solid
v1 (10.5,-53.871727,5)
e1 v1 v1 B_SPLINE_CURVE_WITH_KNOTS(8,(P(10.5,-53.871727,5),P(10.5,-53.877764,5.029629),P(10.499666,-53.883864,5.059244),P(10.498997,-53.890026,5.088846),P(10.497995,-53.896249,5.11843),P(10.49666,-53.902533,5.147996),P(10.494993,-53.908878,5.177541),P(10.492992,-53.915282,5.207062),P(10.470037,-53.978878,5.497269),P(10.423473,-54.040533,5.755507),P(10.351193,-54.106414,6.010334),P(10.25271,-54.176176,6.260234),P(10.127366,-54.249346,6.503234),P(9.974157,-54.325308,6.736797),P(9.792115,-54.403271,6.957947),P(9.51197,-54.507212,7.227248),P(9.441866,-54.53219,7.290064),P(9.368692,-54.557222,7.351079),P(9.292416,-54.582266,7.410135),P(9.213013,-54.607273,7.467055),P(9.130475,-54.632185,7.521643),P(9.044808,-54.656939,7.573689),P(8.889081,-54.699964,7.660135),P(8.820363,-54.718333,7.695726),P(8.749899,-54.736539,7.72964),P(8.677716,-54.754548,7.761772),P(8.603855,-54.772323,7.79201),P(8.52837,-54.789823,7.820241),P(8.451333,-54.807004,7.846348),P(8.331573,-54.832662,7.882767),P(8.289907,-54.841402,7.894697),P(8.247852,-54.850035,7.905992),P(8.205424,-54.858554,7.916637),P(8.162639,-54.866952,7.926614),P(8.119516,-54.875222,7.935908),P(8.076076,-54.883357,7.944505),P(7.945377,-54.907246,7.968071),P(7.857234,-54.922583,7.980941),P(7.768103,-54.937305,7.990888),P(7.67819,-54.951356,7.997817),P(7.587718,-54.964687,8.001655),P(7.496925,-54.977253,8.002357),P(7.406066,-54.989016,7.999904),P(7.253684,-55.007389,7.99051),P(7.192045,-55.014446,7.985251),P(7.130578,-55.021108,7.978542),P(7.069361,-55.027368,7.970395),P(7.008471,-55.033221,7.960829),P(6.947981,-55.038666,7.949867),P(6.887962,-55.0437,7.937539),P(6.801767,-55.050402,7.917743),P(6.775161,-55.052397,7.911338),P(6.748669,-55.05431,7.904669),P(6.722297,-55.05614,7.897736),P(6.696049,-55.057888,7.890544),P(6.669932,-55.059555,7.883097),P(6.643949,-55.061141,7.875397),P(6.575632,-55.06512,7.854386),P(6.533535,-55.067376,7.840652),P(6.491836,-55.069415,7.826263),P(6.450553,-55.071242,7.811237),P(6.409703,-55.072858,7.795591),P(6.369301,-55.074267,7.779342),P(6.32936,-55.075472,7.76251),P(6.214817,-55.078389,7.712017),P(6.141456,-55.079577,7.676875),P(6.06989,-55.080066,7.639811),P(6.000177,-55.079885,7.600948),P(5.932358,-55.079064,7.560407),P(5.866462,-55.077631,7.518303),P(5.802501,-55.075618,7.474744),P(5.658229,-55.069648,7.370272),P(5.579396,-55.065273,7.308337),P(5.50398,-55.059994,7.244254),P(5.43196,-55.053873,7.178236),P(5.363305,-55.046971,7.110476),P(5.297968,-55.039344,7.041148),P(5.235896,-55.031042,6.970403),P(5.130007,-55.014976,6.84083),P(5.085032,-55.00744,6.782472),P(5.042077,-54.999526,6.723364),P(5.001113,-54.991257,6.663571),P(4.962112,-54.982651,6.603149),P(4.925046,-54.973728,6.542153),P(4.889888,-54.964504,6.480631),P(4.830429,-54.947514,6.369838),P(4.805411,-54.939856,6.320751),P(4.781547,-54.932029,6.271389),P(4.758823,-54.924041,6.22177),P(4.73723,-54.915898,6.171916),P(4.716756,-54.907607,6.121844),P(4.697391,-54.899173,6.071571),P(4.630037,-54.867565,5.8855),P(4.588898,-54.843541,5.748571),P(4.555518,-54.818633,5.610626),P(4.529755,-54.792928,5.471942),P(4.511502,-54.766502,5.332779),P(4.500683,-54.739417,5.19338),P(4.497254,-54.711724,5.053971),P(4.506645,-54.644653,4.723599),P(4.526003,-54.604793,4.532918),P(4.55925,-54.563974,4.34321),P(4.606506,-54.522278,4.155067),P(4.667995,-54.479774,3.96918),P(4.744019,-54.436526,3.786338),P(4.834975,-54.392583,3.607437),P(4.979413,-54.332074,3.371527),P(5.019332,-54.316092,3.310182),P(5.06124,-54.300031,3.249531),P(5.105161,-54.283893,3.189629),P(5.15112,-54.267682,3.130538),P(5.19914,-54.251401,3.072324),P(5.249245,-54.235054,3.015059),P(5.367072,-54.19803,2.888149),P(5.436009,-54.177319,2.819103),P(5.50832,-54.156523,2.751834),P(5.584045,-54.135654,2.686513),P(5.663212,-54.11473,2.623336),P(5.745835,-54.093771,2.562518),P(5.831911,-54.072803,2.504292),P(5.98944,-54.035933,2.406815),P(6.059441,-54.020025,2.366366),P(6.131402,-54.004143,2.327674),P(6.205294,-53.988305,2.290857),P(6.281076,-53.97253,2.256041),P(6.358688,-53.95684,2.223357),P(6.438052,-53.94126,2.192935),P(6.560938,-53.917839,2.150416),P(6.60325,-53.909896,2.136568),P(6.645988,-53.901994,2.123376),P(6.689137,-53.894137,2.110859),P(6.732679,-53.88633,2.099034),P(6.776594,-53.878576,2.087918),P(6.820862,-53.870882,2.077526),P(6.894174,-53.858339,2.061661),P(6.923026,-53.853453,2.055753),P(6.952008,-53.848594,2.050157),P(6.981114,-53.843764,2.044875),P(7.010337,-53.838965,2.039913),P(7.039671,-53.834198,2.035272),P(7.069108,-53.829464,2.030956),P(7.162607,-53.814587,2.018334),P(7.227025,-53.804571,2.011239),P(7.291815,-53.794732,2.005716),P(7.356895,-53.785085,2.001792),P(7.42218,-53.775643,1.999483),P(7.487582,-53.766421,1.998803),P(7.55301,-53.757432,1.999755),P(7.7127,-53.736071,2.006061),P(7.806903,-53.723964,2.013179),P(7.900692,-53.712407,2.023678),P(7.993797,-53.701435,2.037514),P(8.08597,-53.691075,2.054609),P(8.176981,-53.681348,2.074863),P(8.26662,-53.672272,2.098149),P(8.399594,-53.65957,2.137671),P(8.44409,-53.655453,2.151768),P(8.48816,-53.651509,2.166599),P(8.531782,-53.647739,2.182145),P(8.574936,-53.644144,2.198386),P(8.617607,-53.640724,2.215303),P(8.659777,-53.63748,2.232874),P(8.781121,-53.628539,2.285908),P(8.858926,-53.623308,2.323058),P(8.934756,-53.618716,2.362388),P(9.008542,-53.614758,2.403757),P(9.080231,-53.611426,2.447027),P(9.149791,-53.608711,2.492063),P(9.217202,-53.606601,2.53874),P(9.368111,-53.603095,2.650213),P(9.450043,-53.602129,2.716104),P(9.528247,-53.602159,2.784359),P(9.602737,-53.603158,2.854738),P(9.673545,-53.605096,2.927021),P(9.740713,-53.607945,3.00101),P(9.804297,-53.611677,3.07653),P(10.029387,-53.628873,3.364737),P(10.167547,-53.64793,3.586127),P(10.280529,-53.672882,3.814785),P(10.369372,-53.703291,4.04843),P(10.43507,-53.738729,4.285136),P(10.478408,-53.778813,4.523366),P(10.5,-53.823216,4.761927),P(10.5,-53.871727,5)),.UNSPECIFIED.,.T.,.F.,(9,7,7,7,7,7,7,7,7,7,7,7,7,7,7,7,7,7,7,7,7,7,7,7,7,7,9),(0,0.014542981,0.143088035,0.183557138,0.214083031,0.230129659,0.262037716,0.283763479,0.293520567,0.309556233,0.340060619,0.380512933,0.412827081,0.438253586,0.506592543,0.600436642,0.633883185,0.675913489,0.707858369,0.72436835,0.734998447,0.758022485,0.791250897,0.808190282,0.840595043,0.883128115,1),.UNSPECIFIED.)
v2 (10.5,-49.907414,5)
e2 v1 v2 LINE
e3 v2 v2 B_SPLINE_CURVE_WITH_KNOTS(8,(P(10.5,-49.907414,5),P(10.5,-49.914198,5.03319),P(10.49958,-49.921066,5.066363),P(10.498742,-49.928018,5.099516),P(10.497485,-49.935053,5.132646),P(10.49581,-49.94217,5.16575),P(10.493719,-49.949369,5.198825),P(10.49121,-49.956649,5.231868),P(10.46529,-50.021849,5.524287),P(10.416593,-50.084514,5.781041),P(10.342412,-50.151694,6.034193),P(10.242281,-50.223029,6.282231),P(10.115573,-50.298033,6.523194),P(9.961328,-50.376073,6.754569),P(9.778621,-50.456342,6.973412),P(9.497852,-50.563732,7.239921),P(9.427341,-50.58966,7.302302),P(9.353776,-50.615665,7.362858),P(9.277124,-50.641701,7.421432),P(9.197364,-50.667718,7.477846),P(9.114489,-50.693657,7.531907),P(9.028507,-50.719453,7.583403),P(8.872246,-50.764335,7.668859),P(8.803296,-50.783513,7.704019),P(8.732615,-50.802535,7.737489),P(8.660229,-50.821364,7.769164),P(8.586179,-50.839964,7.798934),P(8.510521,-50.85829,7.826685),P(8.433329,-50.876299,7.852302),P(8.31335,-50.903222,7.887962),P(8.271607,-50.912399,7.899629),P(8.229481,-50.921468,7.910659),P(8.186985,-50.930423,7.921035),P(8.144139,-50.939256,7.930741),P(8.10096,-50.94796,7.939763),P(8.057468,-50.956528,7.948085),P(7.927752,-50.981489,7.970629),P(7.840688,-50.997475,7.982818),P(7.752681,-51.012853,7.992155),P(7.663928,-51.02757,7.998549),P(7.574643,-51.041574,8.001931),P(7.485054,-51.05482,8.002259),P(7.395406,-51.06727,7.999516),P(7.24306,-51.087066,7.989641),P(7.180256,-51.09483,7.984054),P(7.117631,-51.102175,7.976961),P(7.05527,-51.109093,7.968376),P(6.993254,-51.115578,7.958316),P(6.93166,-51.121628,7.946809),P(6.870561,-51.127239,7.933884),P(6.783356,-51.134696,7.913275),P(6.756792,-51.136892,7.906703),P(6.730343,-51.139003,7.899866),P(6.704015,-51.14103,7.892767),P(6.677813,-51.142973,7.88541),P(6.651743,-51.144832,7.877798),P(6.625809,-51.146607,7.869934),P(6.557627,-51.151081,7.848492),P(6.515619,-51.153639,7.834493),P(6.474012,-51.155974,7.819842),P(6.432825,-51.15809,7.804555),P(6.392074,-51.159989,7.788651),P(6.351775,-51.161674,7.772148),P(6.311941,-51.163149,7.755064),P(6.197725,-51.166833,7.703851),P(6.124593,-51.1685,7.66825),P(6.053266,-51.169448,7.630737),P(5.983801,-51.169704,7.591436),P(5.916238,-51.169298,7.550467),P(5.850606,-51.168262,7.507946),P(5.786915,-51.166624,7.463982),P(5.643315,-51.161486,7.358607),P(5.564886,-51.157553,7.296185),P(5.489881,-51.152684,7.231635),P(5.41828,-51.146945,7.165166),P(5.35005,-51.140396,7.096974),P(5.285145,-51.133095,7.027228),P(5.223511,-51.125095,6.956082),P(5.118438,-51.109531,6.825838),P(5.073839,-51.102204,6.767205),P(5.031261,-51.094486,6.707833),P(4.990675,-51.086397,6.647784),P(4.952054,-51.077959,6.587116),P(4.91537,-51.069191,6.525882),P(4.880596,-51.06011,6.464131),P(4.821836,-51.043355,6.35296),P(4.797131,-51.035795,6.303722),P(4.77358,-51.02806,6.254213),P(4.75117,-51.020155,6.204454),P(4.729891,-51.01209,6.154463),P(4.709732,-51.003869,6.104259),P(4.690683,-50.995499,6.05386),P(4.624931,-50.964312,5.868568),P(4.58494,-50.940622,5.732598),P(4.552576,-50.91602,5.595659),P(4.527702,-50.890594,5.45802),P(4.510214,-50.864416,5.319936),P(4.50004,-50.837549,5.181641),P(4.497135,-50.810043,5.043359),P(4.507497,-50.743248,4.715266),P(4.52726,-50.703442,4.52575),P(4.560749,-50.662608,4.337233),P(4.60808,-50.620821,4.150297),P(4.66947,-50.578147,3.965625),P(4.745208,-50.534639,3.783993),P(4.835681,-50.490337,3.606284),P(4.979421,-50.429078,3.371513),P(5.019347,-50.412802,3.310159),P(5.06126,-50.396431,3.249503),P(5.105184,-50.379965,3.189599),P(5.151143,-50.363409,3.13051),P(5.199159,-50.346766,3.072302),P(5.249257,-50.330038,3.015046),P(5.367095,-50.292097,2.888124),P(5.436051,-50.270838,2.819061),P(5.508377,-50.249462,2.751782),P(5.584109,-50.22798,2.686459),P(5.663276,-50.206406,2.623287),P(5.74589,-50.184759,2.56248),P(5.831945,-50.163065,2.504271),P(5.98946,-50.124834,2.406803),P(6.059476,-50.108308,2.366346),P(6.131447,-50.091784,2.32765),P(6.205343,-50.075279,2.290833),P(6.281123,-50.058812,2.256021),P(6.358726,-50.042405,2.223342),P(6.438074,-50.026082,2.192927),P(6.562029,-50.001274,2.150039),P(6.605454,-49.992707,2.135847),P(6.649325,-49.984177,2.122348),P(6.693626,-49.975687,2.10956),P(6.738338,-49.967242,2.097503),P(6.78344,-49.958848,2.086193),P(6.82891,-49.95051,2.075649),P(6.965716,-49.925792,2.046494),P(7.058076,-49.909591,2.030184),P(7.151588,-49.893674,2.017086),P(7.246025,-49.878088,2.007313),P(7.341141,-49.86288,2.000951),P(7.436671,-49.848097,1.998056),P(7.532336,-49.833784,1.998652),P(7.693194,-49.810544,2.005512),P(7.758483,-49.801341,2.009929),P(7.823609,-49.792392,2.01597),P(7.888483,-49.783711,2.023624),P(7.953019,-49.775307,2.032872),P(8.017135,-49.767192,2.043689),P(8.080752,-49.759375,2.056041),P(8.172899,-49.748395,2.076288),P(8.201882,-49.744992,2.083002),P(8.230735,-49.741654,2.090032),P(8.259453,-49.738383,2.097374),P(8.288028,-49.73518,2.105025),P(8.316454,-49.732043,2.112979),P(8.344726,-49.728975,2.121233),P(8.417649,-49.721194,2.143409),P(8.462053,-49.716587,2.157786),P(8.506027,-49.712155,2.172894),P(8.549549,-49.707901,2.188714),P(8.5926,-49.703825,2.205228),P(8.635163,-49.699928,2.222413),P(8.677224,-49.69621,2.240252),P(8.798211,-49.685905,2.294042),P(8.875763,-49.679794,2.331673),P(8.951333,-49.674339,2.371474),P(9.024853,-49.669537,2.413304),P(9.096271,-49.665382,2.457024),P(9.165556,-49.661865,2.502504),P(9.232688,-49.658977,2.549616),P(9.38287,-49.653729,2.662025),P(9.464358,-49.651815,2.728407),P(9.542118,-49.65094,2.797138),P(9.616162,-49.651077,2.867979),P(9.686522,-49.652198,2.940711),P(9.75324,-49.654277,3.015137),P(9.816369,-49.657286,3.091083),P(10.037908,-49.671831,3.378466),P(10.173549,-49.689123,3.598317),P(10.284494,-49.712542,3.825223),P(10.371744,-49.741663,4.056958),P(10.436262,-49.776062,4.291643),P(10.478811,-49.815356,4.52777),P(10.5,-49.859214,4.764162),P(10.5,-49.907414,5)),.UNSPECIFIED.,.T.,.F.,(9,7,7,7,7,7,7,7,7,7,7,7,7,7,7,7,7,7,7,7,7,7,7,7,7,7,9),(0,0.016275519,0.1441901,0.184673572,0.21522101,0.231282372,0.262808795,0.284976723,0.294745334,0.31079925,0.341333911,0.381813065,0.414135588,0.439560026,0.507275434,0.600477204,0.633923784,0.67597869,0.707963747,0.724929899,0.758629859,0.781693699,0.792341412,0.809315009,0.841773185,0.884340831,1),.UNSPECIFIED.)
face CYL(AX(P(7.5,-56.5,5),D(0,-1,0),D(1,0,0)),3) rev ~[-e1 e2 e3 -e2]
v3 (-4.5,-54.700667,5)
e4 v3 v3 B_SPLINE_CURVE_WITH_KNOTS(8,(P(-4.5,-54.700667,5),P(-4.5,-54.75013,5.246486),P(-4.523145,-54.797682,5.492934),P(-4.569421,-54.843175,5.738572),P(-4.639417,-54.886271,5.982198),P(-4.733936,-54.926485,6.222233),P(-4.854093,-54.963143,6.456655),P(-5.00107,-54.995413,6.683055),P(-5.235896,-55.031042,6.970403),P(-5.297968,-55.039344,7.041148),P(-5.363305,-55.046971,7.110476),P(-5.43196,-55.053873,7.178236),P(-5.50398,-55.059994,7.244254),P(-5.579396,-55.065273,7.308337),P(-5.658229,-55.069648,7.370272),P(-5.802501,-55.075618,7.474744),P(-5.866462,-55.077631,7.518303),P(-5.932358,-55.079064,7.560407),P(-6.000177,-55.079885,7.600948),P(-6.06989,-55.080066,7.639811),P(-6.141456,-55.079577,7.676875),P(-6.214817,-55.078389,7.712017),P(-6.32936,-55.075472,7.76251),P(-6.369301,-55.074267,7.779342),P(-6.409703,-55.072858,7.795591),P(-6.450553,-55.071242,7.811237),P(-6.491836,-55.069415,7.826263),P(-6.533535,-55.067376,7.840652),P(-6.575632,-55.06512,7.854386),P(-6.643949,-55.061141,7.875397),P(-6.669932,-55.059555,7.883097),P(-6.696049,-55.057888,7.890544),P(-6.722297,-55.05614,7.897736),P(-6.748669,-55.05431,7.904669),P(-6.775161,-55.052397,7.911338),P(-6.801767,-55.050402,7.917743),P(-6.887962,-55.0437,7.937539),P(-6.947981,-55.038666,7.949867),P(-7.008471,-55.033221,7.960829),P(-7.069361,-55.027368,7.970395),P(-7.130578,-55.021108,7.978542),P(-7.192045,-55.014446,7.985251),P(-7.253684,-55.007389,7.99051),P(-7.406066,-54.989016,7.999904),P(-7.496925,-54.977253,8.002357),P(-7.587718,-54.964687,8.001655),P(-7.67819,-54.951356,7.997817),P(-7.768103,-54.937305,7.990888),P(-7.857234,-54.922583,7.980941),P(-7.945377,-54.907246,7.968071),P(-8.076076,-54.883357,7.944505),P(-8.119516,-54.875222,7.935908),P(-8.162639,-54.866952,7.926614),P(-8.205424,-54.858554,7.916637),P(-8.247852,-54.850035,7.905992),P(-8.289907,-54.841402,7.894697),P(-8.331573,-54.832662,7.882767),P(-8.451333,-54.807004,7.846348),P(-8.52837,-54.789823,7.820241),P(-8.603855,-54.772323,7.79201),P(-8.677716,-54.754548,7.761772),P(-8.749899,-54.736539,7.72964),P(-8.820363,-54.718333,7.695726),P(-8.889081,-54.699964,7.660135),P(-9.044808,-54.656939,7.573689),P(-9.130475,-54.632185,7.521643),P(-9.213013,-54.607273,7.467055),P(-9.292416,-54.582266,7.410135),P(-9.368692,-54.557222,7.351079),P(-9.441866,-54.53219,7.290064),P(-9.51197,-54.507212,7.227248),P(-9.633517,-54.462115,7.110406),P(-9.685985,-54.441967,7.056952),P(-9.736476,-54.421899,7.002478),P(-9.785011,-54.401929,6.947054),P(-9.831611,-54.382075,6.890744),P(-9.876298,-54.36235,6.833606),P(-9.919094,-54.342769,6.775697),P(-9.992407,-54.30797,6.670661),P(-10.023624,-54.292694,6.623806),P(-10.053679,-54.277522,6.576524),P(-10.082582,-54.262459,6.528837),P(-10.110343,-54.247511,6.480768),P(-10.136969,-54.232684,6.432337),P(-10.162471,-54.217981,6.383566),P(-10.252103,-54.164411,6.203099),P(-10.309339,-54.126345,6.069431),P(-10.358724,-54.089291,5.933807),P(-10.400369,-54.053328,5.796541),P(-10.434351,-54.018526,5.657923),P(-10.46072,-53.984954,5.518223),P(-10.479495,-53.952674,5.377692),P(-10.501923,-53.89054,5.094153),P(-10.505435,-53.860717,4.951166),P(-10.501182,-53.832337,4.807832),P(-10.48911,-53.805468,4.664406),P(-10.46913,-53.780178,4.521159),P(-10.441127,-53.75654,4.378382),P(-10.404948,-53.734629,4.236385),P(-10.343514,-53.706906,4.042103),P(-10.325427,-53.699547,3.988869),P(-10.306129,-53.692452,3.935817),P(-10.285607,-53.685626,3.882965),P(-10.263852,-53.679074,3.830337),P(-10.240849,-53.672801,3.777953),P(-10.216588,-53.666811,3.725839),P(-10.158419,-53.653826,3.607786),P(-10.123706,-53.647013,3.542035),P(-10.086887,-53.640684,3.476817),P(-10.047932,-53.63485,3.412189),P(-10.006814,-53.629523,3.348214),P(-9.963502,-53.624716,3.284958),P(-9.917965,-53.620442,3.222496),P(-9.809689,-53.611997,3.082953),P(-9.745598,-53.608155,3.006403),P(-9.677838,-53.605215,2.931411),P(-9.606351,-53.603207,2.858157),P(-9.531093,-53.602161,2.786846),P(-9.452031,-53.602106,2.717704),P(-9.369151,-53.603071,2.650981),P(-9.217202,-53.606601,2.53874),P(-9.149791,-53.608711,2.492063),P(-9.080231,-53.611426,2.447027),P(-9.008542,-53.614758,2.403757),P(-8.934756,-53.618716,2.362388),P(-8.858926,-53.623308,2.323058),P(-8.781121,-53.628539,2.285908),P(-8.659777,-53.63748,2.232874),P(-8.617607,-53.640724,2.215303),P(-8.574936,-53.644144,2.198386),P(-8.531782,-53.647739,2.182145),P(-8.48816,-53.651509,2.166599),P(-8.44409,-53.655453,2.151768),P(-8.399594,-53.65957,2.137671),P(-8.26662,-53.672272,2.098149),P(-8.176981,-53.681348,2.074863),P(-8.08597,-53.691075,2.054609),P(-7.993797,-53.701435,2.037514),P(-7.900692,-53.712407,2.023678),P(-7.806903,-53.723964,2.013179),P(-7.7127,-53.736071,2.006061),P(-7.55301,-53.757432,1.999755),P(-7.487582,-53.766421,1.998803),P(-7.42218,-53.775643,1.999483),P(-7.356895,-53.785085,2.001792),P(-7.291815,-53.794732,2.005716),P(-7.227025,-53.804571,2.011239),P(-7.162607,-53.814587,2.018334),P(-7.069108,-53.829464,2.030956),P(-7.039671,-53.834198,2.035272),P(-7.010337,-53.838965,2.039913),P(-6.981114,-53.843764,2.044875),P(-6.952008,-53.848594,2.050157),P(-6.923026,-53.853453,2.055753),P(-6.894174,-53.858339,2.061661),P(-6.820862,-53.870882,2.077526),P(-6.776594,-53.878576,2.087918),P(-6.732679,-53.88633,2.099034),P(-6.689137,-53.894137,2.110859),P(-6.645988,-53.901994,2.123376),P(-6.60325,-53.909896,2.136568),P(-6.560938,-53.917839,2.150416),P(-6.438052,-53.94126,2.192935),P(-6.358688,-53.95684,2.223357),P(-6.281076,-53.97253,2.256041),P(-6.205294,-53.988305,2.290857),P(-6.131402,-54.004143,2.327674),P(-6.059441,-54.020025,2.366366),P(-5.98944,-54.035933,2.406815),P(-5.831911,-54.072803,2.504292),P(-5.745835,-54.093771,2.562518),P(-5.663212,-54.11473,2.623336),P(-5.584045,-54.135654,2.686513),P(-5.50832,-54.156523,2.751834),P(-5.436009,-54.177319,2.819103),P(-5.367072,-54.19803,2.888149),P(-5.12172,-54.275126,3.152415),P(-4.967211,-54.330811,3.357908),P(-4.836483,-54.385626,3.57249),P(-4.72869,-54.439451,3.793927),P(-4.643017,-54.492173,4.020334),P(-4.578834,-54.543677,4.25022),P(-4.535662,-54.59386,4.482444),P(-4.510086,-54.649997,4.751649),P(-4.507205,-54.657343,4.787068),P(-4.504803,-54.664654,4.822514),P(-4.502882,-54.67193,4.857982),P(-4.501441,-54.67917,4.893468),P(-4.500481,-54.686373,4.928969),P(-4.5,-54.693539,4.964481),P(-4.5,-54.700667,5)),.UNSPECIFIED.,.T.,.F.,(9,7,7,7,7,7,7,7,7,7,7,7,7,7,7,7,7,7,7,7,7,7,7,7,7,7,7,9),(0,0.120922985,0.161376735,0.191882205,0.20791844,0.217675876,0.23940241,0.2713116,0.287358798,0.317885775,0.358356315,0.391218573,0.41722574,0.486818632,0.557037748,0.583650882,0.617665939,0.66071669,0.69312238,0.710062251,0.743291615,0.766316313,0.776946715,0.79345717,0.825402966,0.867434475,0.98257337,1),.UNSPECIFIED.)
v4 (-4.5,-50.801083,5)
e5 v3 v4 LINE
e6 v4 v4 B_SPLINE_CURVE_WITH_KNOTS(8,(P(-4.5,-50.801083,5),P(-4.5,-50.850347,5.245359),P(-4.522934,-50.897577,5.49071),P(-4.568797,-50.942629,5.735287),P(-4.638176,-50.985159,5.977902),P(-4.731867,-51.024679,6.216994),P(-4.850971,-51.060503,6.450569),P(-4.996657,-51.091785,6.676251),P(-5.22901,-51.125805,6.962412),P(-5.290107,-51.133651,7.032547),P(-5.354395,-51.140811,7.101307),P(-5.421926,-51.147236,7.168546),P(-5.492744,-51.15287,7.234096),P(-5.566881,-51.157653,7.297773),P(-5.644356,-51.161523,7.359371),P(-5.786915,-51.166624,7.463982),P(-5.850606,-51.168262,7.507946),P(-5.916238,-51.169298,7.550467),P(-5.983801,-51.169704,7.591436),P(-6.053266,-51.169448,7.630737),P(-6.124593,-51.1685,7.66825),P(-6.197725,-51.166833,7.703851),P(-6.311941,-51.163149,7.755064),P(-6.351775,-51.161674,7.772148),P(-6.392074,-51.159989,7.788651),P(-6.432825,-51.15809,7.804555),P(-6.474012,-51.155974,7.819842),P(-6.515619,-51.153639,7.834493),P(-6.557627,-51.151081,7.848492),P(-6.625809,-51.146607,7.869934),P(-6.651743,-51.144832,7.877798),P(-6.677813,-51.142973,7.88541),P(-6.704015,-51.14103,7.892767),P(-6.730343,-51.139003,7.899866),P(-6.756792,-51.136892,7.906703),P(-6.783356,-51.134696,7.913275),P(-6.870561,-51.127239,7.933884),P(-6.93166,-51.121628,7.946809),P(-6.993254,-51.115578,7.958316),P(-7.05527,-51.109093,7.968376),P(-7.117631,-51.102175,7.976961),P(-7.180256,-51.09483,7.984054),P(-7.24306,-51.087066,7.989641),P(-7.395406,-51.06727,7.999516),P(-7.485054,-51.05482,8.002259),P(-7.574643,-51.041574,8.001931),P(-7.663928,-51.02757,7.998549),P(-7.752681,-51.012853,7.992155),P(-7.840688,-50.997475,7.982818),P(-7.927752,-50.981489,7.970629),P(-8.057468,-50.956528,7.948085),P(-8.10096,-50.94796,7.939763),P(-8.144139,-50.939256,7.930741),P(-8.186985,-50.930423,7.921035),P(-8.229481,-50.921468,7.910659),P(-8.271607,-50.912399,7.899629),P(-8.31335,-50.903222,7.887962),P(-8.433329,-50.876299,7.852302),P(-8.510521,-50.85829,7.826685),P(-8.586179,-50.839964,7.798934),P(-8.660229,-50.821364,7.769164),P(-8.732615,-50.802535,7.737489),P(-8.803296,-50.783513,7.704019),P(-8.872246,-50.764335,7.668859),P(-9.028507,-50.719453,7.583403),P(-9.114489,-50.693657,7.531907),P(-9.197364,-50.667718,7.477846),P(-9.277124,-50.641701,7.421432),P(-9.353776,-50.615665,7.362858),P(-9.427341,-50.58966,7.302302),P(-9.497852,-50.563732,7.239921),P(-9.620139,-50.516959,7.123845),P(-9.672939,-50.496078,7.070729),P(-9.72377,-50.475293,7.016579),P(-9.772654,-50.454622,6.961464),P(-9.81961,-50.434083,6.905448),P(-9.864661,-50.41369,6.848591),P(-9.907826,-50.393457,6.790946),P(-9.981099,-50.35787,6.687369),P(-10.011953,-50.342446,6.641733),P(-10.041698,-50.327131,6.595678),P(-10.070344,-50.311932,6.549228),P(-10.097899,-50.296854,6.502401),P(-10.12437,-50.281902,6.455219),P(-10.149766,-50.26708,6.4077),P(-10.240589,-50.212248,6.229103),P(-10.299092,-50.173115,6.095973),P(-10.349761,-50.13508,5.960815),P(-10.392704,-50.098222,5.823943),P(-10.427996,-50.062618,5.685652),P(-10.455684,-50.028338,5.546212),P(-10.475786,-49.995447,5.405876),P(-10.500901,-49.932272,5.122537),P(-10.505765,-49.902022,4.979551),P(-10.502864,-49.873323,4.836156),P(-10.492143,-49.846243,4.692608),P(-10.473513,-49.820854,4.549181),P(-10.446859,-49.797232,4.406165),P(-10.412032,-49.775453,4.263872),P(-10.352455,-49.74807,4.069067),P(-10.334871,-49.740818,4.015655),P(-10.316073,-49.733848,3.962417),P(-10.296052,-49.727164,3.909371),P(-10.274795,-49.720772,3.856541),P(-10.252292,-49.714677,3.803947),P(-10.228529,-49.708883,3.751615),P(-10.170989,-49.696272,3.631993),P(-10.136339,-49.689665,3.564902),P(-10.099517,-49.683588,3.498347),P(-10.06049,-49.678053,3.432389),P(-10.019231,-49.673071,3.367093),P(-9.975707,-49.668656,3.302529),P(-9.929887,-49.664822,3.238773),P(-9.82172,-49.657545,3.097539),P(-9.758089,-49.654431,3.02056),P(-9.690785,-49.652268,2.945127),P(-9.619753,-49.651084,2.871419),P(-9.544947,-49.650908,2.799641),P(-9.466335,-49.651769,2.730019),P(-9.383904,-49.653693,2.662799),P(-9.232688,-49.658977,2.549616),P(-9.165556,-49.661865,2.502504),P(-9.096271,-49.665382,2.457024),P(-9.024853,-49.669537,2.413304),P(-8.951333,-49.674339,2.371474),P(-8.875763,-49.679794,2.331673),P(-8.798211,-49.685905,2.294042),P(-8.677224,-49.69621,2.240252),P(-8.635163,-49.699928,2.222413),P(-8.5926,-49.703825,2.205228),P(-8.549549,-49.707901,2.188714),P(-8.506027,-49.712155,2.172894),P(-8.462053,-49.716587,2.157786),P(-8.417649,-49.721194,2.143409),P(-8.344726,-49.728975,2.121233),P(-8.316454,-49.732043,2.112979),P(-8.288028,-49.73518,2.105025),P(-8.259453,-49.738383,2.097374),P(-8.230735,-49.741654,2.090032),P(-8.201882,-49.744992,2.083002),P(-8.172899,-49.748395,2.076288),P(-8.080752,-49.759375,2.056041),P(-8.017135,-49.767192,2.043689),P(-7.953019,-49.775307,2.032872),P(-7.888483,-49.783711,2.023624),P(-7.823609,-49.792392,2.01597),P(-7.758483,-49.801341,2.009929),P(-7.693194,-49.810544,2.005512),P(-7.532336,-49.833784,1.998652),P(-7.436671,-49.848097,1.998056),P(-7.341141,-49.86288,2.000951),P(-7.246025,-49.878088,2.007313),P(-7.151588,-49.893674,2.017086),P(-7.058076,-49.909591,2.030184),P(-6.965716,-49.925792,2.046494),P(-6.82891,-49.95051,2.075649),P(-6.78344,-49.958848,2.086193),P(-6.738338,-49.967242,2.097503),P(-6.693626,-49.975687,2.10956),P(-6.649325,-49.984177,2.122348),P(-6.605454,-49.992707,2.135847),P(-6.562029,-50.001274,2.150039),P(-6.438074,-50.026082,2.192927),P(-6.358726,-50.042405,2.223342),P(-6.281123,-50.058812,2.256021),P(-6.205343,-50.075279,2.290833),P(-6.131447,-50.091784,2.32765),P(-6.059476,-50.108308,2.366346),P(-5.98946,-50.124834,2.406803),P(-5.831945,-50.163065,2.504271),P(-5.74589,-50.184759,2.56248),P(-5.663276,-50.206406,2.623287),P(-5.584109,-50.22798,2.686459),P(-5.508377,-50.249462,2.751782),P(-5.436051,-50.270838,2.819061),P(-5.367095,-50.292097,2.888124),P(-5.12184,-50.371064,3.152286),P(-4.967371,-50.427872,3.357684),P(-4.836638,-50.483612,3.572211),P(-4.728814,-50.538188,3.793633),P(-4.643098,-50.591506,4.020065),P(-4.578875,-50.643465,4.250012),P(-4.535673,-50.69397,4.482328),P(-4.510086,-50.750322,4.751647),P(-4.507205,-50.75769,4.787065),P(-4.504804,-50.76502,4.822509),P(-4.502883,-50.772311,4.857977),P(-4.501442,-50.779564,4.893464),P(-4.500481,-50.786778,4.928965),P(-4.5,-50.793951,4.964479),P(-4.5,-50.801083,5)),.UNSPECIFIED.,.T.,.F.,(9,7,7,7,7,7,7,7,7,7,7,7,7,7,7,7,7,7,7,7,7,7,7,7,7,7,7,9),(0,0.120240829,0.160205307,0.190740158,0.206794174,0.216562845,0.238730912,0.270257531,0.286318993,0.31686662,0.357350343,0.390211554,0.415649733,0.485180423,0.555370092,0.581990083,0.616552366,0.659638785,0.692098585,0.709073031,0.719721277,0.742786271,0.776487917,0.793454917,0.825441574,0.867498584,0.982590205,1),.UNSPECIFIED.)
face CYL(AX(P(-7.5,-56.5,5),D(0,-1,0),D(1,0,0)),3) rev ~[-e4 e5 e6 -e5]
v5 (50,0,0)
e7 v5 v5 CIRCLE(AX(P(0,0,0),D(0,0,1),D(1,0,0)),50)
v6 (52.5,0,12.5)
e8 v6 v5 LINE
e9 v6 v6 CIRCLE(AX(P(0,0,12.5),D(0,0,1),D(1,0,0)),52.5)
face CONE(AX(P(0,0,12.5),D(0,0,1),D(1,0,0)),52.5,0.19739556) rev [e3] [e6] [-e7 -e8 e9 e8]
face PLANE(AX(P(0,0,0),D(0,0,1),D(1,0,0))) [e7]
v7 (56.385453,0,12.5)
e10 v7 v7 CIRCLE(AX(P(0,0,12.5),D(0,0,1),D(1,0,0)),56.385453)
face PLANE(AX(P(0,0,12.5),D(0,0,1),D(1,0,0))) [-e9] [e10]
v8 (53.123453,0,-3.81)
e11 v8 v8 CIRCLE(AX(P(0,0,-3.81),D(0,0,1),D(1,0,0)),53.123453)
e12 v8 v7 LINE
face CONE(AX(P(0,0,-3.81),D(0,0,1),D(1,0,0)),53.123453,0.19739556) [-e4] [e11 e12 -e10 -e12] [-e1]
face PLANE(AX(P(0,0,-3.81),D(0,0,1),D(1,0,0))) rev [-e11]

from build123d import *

# Parameters (mm, degrees)
F3_R     = 3
F4_DEPTH = 15


with BuildPart() as f1:
    # F0 (on Front) → F1 (revolve)
    with BuildSketch(Plane.XZ):
        Polygon((50, 0), (0, 0), (0, -3.81), (53.123453, -3.81), (56.385453, 12.5), (52.5, 12.5), align=None)
    revolve(axis=Axis((0, 0, 6.25), (0, 0, 1)))

    # F3 (on offset) → F4 (cut)
    with BuildSketch(Plane.XZ.offset(56.5)):
        with Locations((7.5, 5)):
            Circle(F3_R)
        with Locations((-7.5, 5)):
            Circle(F3_R)
    extrude(amount=-F4_DEPTH, mode=Mode.SUBTRACT)


solid = f1.part
